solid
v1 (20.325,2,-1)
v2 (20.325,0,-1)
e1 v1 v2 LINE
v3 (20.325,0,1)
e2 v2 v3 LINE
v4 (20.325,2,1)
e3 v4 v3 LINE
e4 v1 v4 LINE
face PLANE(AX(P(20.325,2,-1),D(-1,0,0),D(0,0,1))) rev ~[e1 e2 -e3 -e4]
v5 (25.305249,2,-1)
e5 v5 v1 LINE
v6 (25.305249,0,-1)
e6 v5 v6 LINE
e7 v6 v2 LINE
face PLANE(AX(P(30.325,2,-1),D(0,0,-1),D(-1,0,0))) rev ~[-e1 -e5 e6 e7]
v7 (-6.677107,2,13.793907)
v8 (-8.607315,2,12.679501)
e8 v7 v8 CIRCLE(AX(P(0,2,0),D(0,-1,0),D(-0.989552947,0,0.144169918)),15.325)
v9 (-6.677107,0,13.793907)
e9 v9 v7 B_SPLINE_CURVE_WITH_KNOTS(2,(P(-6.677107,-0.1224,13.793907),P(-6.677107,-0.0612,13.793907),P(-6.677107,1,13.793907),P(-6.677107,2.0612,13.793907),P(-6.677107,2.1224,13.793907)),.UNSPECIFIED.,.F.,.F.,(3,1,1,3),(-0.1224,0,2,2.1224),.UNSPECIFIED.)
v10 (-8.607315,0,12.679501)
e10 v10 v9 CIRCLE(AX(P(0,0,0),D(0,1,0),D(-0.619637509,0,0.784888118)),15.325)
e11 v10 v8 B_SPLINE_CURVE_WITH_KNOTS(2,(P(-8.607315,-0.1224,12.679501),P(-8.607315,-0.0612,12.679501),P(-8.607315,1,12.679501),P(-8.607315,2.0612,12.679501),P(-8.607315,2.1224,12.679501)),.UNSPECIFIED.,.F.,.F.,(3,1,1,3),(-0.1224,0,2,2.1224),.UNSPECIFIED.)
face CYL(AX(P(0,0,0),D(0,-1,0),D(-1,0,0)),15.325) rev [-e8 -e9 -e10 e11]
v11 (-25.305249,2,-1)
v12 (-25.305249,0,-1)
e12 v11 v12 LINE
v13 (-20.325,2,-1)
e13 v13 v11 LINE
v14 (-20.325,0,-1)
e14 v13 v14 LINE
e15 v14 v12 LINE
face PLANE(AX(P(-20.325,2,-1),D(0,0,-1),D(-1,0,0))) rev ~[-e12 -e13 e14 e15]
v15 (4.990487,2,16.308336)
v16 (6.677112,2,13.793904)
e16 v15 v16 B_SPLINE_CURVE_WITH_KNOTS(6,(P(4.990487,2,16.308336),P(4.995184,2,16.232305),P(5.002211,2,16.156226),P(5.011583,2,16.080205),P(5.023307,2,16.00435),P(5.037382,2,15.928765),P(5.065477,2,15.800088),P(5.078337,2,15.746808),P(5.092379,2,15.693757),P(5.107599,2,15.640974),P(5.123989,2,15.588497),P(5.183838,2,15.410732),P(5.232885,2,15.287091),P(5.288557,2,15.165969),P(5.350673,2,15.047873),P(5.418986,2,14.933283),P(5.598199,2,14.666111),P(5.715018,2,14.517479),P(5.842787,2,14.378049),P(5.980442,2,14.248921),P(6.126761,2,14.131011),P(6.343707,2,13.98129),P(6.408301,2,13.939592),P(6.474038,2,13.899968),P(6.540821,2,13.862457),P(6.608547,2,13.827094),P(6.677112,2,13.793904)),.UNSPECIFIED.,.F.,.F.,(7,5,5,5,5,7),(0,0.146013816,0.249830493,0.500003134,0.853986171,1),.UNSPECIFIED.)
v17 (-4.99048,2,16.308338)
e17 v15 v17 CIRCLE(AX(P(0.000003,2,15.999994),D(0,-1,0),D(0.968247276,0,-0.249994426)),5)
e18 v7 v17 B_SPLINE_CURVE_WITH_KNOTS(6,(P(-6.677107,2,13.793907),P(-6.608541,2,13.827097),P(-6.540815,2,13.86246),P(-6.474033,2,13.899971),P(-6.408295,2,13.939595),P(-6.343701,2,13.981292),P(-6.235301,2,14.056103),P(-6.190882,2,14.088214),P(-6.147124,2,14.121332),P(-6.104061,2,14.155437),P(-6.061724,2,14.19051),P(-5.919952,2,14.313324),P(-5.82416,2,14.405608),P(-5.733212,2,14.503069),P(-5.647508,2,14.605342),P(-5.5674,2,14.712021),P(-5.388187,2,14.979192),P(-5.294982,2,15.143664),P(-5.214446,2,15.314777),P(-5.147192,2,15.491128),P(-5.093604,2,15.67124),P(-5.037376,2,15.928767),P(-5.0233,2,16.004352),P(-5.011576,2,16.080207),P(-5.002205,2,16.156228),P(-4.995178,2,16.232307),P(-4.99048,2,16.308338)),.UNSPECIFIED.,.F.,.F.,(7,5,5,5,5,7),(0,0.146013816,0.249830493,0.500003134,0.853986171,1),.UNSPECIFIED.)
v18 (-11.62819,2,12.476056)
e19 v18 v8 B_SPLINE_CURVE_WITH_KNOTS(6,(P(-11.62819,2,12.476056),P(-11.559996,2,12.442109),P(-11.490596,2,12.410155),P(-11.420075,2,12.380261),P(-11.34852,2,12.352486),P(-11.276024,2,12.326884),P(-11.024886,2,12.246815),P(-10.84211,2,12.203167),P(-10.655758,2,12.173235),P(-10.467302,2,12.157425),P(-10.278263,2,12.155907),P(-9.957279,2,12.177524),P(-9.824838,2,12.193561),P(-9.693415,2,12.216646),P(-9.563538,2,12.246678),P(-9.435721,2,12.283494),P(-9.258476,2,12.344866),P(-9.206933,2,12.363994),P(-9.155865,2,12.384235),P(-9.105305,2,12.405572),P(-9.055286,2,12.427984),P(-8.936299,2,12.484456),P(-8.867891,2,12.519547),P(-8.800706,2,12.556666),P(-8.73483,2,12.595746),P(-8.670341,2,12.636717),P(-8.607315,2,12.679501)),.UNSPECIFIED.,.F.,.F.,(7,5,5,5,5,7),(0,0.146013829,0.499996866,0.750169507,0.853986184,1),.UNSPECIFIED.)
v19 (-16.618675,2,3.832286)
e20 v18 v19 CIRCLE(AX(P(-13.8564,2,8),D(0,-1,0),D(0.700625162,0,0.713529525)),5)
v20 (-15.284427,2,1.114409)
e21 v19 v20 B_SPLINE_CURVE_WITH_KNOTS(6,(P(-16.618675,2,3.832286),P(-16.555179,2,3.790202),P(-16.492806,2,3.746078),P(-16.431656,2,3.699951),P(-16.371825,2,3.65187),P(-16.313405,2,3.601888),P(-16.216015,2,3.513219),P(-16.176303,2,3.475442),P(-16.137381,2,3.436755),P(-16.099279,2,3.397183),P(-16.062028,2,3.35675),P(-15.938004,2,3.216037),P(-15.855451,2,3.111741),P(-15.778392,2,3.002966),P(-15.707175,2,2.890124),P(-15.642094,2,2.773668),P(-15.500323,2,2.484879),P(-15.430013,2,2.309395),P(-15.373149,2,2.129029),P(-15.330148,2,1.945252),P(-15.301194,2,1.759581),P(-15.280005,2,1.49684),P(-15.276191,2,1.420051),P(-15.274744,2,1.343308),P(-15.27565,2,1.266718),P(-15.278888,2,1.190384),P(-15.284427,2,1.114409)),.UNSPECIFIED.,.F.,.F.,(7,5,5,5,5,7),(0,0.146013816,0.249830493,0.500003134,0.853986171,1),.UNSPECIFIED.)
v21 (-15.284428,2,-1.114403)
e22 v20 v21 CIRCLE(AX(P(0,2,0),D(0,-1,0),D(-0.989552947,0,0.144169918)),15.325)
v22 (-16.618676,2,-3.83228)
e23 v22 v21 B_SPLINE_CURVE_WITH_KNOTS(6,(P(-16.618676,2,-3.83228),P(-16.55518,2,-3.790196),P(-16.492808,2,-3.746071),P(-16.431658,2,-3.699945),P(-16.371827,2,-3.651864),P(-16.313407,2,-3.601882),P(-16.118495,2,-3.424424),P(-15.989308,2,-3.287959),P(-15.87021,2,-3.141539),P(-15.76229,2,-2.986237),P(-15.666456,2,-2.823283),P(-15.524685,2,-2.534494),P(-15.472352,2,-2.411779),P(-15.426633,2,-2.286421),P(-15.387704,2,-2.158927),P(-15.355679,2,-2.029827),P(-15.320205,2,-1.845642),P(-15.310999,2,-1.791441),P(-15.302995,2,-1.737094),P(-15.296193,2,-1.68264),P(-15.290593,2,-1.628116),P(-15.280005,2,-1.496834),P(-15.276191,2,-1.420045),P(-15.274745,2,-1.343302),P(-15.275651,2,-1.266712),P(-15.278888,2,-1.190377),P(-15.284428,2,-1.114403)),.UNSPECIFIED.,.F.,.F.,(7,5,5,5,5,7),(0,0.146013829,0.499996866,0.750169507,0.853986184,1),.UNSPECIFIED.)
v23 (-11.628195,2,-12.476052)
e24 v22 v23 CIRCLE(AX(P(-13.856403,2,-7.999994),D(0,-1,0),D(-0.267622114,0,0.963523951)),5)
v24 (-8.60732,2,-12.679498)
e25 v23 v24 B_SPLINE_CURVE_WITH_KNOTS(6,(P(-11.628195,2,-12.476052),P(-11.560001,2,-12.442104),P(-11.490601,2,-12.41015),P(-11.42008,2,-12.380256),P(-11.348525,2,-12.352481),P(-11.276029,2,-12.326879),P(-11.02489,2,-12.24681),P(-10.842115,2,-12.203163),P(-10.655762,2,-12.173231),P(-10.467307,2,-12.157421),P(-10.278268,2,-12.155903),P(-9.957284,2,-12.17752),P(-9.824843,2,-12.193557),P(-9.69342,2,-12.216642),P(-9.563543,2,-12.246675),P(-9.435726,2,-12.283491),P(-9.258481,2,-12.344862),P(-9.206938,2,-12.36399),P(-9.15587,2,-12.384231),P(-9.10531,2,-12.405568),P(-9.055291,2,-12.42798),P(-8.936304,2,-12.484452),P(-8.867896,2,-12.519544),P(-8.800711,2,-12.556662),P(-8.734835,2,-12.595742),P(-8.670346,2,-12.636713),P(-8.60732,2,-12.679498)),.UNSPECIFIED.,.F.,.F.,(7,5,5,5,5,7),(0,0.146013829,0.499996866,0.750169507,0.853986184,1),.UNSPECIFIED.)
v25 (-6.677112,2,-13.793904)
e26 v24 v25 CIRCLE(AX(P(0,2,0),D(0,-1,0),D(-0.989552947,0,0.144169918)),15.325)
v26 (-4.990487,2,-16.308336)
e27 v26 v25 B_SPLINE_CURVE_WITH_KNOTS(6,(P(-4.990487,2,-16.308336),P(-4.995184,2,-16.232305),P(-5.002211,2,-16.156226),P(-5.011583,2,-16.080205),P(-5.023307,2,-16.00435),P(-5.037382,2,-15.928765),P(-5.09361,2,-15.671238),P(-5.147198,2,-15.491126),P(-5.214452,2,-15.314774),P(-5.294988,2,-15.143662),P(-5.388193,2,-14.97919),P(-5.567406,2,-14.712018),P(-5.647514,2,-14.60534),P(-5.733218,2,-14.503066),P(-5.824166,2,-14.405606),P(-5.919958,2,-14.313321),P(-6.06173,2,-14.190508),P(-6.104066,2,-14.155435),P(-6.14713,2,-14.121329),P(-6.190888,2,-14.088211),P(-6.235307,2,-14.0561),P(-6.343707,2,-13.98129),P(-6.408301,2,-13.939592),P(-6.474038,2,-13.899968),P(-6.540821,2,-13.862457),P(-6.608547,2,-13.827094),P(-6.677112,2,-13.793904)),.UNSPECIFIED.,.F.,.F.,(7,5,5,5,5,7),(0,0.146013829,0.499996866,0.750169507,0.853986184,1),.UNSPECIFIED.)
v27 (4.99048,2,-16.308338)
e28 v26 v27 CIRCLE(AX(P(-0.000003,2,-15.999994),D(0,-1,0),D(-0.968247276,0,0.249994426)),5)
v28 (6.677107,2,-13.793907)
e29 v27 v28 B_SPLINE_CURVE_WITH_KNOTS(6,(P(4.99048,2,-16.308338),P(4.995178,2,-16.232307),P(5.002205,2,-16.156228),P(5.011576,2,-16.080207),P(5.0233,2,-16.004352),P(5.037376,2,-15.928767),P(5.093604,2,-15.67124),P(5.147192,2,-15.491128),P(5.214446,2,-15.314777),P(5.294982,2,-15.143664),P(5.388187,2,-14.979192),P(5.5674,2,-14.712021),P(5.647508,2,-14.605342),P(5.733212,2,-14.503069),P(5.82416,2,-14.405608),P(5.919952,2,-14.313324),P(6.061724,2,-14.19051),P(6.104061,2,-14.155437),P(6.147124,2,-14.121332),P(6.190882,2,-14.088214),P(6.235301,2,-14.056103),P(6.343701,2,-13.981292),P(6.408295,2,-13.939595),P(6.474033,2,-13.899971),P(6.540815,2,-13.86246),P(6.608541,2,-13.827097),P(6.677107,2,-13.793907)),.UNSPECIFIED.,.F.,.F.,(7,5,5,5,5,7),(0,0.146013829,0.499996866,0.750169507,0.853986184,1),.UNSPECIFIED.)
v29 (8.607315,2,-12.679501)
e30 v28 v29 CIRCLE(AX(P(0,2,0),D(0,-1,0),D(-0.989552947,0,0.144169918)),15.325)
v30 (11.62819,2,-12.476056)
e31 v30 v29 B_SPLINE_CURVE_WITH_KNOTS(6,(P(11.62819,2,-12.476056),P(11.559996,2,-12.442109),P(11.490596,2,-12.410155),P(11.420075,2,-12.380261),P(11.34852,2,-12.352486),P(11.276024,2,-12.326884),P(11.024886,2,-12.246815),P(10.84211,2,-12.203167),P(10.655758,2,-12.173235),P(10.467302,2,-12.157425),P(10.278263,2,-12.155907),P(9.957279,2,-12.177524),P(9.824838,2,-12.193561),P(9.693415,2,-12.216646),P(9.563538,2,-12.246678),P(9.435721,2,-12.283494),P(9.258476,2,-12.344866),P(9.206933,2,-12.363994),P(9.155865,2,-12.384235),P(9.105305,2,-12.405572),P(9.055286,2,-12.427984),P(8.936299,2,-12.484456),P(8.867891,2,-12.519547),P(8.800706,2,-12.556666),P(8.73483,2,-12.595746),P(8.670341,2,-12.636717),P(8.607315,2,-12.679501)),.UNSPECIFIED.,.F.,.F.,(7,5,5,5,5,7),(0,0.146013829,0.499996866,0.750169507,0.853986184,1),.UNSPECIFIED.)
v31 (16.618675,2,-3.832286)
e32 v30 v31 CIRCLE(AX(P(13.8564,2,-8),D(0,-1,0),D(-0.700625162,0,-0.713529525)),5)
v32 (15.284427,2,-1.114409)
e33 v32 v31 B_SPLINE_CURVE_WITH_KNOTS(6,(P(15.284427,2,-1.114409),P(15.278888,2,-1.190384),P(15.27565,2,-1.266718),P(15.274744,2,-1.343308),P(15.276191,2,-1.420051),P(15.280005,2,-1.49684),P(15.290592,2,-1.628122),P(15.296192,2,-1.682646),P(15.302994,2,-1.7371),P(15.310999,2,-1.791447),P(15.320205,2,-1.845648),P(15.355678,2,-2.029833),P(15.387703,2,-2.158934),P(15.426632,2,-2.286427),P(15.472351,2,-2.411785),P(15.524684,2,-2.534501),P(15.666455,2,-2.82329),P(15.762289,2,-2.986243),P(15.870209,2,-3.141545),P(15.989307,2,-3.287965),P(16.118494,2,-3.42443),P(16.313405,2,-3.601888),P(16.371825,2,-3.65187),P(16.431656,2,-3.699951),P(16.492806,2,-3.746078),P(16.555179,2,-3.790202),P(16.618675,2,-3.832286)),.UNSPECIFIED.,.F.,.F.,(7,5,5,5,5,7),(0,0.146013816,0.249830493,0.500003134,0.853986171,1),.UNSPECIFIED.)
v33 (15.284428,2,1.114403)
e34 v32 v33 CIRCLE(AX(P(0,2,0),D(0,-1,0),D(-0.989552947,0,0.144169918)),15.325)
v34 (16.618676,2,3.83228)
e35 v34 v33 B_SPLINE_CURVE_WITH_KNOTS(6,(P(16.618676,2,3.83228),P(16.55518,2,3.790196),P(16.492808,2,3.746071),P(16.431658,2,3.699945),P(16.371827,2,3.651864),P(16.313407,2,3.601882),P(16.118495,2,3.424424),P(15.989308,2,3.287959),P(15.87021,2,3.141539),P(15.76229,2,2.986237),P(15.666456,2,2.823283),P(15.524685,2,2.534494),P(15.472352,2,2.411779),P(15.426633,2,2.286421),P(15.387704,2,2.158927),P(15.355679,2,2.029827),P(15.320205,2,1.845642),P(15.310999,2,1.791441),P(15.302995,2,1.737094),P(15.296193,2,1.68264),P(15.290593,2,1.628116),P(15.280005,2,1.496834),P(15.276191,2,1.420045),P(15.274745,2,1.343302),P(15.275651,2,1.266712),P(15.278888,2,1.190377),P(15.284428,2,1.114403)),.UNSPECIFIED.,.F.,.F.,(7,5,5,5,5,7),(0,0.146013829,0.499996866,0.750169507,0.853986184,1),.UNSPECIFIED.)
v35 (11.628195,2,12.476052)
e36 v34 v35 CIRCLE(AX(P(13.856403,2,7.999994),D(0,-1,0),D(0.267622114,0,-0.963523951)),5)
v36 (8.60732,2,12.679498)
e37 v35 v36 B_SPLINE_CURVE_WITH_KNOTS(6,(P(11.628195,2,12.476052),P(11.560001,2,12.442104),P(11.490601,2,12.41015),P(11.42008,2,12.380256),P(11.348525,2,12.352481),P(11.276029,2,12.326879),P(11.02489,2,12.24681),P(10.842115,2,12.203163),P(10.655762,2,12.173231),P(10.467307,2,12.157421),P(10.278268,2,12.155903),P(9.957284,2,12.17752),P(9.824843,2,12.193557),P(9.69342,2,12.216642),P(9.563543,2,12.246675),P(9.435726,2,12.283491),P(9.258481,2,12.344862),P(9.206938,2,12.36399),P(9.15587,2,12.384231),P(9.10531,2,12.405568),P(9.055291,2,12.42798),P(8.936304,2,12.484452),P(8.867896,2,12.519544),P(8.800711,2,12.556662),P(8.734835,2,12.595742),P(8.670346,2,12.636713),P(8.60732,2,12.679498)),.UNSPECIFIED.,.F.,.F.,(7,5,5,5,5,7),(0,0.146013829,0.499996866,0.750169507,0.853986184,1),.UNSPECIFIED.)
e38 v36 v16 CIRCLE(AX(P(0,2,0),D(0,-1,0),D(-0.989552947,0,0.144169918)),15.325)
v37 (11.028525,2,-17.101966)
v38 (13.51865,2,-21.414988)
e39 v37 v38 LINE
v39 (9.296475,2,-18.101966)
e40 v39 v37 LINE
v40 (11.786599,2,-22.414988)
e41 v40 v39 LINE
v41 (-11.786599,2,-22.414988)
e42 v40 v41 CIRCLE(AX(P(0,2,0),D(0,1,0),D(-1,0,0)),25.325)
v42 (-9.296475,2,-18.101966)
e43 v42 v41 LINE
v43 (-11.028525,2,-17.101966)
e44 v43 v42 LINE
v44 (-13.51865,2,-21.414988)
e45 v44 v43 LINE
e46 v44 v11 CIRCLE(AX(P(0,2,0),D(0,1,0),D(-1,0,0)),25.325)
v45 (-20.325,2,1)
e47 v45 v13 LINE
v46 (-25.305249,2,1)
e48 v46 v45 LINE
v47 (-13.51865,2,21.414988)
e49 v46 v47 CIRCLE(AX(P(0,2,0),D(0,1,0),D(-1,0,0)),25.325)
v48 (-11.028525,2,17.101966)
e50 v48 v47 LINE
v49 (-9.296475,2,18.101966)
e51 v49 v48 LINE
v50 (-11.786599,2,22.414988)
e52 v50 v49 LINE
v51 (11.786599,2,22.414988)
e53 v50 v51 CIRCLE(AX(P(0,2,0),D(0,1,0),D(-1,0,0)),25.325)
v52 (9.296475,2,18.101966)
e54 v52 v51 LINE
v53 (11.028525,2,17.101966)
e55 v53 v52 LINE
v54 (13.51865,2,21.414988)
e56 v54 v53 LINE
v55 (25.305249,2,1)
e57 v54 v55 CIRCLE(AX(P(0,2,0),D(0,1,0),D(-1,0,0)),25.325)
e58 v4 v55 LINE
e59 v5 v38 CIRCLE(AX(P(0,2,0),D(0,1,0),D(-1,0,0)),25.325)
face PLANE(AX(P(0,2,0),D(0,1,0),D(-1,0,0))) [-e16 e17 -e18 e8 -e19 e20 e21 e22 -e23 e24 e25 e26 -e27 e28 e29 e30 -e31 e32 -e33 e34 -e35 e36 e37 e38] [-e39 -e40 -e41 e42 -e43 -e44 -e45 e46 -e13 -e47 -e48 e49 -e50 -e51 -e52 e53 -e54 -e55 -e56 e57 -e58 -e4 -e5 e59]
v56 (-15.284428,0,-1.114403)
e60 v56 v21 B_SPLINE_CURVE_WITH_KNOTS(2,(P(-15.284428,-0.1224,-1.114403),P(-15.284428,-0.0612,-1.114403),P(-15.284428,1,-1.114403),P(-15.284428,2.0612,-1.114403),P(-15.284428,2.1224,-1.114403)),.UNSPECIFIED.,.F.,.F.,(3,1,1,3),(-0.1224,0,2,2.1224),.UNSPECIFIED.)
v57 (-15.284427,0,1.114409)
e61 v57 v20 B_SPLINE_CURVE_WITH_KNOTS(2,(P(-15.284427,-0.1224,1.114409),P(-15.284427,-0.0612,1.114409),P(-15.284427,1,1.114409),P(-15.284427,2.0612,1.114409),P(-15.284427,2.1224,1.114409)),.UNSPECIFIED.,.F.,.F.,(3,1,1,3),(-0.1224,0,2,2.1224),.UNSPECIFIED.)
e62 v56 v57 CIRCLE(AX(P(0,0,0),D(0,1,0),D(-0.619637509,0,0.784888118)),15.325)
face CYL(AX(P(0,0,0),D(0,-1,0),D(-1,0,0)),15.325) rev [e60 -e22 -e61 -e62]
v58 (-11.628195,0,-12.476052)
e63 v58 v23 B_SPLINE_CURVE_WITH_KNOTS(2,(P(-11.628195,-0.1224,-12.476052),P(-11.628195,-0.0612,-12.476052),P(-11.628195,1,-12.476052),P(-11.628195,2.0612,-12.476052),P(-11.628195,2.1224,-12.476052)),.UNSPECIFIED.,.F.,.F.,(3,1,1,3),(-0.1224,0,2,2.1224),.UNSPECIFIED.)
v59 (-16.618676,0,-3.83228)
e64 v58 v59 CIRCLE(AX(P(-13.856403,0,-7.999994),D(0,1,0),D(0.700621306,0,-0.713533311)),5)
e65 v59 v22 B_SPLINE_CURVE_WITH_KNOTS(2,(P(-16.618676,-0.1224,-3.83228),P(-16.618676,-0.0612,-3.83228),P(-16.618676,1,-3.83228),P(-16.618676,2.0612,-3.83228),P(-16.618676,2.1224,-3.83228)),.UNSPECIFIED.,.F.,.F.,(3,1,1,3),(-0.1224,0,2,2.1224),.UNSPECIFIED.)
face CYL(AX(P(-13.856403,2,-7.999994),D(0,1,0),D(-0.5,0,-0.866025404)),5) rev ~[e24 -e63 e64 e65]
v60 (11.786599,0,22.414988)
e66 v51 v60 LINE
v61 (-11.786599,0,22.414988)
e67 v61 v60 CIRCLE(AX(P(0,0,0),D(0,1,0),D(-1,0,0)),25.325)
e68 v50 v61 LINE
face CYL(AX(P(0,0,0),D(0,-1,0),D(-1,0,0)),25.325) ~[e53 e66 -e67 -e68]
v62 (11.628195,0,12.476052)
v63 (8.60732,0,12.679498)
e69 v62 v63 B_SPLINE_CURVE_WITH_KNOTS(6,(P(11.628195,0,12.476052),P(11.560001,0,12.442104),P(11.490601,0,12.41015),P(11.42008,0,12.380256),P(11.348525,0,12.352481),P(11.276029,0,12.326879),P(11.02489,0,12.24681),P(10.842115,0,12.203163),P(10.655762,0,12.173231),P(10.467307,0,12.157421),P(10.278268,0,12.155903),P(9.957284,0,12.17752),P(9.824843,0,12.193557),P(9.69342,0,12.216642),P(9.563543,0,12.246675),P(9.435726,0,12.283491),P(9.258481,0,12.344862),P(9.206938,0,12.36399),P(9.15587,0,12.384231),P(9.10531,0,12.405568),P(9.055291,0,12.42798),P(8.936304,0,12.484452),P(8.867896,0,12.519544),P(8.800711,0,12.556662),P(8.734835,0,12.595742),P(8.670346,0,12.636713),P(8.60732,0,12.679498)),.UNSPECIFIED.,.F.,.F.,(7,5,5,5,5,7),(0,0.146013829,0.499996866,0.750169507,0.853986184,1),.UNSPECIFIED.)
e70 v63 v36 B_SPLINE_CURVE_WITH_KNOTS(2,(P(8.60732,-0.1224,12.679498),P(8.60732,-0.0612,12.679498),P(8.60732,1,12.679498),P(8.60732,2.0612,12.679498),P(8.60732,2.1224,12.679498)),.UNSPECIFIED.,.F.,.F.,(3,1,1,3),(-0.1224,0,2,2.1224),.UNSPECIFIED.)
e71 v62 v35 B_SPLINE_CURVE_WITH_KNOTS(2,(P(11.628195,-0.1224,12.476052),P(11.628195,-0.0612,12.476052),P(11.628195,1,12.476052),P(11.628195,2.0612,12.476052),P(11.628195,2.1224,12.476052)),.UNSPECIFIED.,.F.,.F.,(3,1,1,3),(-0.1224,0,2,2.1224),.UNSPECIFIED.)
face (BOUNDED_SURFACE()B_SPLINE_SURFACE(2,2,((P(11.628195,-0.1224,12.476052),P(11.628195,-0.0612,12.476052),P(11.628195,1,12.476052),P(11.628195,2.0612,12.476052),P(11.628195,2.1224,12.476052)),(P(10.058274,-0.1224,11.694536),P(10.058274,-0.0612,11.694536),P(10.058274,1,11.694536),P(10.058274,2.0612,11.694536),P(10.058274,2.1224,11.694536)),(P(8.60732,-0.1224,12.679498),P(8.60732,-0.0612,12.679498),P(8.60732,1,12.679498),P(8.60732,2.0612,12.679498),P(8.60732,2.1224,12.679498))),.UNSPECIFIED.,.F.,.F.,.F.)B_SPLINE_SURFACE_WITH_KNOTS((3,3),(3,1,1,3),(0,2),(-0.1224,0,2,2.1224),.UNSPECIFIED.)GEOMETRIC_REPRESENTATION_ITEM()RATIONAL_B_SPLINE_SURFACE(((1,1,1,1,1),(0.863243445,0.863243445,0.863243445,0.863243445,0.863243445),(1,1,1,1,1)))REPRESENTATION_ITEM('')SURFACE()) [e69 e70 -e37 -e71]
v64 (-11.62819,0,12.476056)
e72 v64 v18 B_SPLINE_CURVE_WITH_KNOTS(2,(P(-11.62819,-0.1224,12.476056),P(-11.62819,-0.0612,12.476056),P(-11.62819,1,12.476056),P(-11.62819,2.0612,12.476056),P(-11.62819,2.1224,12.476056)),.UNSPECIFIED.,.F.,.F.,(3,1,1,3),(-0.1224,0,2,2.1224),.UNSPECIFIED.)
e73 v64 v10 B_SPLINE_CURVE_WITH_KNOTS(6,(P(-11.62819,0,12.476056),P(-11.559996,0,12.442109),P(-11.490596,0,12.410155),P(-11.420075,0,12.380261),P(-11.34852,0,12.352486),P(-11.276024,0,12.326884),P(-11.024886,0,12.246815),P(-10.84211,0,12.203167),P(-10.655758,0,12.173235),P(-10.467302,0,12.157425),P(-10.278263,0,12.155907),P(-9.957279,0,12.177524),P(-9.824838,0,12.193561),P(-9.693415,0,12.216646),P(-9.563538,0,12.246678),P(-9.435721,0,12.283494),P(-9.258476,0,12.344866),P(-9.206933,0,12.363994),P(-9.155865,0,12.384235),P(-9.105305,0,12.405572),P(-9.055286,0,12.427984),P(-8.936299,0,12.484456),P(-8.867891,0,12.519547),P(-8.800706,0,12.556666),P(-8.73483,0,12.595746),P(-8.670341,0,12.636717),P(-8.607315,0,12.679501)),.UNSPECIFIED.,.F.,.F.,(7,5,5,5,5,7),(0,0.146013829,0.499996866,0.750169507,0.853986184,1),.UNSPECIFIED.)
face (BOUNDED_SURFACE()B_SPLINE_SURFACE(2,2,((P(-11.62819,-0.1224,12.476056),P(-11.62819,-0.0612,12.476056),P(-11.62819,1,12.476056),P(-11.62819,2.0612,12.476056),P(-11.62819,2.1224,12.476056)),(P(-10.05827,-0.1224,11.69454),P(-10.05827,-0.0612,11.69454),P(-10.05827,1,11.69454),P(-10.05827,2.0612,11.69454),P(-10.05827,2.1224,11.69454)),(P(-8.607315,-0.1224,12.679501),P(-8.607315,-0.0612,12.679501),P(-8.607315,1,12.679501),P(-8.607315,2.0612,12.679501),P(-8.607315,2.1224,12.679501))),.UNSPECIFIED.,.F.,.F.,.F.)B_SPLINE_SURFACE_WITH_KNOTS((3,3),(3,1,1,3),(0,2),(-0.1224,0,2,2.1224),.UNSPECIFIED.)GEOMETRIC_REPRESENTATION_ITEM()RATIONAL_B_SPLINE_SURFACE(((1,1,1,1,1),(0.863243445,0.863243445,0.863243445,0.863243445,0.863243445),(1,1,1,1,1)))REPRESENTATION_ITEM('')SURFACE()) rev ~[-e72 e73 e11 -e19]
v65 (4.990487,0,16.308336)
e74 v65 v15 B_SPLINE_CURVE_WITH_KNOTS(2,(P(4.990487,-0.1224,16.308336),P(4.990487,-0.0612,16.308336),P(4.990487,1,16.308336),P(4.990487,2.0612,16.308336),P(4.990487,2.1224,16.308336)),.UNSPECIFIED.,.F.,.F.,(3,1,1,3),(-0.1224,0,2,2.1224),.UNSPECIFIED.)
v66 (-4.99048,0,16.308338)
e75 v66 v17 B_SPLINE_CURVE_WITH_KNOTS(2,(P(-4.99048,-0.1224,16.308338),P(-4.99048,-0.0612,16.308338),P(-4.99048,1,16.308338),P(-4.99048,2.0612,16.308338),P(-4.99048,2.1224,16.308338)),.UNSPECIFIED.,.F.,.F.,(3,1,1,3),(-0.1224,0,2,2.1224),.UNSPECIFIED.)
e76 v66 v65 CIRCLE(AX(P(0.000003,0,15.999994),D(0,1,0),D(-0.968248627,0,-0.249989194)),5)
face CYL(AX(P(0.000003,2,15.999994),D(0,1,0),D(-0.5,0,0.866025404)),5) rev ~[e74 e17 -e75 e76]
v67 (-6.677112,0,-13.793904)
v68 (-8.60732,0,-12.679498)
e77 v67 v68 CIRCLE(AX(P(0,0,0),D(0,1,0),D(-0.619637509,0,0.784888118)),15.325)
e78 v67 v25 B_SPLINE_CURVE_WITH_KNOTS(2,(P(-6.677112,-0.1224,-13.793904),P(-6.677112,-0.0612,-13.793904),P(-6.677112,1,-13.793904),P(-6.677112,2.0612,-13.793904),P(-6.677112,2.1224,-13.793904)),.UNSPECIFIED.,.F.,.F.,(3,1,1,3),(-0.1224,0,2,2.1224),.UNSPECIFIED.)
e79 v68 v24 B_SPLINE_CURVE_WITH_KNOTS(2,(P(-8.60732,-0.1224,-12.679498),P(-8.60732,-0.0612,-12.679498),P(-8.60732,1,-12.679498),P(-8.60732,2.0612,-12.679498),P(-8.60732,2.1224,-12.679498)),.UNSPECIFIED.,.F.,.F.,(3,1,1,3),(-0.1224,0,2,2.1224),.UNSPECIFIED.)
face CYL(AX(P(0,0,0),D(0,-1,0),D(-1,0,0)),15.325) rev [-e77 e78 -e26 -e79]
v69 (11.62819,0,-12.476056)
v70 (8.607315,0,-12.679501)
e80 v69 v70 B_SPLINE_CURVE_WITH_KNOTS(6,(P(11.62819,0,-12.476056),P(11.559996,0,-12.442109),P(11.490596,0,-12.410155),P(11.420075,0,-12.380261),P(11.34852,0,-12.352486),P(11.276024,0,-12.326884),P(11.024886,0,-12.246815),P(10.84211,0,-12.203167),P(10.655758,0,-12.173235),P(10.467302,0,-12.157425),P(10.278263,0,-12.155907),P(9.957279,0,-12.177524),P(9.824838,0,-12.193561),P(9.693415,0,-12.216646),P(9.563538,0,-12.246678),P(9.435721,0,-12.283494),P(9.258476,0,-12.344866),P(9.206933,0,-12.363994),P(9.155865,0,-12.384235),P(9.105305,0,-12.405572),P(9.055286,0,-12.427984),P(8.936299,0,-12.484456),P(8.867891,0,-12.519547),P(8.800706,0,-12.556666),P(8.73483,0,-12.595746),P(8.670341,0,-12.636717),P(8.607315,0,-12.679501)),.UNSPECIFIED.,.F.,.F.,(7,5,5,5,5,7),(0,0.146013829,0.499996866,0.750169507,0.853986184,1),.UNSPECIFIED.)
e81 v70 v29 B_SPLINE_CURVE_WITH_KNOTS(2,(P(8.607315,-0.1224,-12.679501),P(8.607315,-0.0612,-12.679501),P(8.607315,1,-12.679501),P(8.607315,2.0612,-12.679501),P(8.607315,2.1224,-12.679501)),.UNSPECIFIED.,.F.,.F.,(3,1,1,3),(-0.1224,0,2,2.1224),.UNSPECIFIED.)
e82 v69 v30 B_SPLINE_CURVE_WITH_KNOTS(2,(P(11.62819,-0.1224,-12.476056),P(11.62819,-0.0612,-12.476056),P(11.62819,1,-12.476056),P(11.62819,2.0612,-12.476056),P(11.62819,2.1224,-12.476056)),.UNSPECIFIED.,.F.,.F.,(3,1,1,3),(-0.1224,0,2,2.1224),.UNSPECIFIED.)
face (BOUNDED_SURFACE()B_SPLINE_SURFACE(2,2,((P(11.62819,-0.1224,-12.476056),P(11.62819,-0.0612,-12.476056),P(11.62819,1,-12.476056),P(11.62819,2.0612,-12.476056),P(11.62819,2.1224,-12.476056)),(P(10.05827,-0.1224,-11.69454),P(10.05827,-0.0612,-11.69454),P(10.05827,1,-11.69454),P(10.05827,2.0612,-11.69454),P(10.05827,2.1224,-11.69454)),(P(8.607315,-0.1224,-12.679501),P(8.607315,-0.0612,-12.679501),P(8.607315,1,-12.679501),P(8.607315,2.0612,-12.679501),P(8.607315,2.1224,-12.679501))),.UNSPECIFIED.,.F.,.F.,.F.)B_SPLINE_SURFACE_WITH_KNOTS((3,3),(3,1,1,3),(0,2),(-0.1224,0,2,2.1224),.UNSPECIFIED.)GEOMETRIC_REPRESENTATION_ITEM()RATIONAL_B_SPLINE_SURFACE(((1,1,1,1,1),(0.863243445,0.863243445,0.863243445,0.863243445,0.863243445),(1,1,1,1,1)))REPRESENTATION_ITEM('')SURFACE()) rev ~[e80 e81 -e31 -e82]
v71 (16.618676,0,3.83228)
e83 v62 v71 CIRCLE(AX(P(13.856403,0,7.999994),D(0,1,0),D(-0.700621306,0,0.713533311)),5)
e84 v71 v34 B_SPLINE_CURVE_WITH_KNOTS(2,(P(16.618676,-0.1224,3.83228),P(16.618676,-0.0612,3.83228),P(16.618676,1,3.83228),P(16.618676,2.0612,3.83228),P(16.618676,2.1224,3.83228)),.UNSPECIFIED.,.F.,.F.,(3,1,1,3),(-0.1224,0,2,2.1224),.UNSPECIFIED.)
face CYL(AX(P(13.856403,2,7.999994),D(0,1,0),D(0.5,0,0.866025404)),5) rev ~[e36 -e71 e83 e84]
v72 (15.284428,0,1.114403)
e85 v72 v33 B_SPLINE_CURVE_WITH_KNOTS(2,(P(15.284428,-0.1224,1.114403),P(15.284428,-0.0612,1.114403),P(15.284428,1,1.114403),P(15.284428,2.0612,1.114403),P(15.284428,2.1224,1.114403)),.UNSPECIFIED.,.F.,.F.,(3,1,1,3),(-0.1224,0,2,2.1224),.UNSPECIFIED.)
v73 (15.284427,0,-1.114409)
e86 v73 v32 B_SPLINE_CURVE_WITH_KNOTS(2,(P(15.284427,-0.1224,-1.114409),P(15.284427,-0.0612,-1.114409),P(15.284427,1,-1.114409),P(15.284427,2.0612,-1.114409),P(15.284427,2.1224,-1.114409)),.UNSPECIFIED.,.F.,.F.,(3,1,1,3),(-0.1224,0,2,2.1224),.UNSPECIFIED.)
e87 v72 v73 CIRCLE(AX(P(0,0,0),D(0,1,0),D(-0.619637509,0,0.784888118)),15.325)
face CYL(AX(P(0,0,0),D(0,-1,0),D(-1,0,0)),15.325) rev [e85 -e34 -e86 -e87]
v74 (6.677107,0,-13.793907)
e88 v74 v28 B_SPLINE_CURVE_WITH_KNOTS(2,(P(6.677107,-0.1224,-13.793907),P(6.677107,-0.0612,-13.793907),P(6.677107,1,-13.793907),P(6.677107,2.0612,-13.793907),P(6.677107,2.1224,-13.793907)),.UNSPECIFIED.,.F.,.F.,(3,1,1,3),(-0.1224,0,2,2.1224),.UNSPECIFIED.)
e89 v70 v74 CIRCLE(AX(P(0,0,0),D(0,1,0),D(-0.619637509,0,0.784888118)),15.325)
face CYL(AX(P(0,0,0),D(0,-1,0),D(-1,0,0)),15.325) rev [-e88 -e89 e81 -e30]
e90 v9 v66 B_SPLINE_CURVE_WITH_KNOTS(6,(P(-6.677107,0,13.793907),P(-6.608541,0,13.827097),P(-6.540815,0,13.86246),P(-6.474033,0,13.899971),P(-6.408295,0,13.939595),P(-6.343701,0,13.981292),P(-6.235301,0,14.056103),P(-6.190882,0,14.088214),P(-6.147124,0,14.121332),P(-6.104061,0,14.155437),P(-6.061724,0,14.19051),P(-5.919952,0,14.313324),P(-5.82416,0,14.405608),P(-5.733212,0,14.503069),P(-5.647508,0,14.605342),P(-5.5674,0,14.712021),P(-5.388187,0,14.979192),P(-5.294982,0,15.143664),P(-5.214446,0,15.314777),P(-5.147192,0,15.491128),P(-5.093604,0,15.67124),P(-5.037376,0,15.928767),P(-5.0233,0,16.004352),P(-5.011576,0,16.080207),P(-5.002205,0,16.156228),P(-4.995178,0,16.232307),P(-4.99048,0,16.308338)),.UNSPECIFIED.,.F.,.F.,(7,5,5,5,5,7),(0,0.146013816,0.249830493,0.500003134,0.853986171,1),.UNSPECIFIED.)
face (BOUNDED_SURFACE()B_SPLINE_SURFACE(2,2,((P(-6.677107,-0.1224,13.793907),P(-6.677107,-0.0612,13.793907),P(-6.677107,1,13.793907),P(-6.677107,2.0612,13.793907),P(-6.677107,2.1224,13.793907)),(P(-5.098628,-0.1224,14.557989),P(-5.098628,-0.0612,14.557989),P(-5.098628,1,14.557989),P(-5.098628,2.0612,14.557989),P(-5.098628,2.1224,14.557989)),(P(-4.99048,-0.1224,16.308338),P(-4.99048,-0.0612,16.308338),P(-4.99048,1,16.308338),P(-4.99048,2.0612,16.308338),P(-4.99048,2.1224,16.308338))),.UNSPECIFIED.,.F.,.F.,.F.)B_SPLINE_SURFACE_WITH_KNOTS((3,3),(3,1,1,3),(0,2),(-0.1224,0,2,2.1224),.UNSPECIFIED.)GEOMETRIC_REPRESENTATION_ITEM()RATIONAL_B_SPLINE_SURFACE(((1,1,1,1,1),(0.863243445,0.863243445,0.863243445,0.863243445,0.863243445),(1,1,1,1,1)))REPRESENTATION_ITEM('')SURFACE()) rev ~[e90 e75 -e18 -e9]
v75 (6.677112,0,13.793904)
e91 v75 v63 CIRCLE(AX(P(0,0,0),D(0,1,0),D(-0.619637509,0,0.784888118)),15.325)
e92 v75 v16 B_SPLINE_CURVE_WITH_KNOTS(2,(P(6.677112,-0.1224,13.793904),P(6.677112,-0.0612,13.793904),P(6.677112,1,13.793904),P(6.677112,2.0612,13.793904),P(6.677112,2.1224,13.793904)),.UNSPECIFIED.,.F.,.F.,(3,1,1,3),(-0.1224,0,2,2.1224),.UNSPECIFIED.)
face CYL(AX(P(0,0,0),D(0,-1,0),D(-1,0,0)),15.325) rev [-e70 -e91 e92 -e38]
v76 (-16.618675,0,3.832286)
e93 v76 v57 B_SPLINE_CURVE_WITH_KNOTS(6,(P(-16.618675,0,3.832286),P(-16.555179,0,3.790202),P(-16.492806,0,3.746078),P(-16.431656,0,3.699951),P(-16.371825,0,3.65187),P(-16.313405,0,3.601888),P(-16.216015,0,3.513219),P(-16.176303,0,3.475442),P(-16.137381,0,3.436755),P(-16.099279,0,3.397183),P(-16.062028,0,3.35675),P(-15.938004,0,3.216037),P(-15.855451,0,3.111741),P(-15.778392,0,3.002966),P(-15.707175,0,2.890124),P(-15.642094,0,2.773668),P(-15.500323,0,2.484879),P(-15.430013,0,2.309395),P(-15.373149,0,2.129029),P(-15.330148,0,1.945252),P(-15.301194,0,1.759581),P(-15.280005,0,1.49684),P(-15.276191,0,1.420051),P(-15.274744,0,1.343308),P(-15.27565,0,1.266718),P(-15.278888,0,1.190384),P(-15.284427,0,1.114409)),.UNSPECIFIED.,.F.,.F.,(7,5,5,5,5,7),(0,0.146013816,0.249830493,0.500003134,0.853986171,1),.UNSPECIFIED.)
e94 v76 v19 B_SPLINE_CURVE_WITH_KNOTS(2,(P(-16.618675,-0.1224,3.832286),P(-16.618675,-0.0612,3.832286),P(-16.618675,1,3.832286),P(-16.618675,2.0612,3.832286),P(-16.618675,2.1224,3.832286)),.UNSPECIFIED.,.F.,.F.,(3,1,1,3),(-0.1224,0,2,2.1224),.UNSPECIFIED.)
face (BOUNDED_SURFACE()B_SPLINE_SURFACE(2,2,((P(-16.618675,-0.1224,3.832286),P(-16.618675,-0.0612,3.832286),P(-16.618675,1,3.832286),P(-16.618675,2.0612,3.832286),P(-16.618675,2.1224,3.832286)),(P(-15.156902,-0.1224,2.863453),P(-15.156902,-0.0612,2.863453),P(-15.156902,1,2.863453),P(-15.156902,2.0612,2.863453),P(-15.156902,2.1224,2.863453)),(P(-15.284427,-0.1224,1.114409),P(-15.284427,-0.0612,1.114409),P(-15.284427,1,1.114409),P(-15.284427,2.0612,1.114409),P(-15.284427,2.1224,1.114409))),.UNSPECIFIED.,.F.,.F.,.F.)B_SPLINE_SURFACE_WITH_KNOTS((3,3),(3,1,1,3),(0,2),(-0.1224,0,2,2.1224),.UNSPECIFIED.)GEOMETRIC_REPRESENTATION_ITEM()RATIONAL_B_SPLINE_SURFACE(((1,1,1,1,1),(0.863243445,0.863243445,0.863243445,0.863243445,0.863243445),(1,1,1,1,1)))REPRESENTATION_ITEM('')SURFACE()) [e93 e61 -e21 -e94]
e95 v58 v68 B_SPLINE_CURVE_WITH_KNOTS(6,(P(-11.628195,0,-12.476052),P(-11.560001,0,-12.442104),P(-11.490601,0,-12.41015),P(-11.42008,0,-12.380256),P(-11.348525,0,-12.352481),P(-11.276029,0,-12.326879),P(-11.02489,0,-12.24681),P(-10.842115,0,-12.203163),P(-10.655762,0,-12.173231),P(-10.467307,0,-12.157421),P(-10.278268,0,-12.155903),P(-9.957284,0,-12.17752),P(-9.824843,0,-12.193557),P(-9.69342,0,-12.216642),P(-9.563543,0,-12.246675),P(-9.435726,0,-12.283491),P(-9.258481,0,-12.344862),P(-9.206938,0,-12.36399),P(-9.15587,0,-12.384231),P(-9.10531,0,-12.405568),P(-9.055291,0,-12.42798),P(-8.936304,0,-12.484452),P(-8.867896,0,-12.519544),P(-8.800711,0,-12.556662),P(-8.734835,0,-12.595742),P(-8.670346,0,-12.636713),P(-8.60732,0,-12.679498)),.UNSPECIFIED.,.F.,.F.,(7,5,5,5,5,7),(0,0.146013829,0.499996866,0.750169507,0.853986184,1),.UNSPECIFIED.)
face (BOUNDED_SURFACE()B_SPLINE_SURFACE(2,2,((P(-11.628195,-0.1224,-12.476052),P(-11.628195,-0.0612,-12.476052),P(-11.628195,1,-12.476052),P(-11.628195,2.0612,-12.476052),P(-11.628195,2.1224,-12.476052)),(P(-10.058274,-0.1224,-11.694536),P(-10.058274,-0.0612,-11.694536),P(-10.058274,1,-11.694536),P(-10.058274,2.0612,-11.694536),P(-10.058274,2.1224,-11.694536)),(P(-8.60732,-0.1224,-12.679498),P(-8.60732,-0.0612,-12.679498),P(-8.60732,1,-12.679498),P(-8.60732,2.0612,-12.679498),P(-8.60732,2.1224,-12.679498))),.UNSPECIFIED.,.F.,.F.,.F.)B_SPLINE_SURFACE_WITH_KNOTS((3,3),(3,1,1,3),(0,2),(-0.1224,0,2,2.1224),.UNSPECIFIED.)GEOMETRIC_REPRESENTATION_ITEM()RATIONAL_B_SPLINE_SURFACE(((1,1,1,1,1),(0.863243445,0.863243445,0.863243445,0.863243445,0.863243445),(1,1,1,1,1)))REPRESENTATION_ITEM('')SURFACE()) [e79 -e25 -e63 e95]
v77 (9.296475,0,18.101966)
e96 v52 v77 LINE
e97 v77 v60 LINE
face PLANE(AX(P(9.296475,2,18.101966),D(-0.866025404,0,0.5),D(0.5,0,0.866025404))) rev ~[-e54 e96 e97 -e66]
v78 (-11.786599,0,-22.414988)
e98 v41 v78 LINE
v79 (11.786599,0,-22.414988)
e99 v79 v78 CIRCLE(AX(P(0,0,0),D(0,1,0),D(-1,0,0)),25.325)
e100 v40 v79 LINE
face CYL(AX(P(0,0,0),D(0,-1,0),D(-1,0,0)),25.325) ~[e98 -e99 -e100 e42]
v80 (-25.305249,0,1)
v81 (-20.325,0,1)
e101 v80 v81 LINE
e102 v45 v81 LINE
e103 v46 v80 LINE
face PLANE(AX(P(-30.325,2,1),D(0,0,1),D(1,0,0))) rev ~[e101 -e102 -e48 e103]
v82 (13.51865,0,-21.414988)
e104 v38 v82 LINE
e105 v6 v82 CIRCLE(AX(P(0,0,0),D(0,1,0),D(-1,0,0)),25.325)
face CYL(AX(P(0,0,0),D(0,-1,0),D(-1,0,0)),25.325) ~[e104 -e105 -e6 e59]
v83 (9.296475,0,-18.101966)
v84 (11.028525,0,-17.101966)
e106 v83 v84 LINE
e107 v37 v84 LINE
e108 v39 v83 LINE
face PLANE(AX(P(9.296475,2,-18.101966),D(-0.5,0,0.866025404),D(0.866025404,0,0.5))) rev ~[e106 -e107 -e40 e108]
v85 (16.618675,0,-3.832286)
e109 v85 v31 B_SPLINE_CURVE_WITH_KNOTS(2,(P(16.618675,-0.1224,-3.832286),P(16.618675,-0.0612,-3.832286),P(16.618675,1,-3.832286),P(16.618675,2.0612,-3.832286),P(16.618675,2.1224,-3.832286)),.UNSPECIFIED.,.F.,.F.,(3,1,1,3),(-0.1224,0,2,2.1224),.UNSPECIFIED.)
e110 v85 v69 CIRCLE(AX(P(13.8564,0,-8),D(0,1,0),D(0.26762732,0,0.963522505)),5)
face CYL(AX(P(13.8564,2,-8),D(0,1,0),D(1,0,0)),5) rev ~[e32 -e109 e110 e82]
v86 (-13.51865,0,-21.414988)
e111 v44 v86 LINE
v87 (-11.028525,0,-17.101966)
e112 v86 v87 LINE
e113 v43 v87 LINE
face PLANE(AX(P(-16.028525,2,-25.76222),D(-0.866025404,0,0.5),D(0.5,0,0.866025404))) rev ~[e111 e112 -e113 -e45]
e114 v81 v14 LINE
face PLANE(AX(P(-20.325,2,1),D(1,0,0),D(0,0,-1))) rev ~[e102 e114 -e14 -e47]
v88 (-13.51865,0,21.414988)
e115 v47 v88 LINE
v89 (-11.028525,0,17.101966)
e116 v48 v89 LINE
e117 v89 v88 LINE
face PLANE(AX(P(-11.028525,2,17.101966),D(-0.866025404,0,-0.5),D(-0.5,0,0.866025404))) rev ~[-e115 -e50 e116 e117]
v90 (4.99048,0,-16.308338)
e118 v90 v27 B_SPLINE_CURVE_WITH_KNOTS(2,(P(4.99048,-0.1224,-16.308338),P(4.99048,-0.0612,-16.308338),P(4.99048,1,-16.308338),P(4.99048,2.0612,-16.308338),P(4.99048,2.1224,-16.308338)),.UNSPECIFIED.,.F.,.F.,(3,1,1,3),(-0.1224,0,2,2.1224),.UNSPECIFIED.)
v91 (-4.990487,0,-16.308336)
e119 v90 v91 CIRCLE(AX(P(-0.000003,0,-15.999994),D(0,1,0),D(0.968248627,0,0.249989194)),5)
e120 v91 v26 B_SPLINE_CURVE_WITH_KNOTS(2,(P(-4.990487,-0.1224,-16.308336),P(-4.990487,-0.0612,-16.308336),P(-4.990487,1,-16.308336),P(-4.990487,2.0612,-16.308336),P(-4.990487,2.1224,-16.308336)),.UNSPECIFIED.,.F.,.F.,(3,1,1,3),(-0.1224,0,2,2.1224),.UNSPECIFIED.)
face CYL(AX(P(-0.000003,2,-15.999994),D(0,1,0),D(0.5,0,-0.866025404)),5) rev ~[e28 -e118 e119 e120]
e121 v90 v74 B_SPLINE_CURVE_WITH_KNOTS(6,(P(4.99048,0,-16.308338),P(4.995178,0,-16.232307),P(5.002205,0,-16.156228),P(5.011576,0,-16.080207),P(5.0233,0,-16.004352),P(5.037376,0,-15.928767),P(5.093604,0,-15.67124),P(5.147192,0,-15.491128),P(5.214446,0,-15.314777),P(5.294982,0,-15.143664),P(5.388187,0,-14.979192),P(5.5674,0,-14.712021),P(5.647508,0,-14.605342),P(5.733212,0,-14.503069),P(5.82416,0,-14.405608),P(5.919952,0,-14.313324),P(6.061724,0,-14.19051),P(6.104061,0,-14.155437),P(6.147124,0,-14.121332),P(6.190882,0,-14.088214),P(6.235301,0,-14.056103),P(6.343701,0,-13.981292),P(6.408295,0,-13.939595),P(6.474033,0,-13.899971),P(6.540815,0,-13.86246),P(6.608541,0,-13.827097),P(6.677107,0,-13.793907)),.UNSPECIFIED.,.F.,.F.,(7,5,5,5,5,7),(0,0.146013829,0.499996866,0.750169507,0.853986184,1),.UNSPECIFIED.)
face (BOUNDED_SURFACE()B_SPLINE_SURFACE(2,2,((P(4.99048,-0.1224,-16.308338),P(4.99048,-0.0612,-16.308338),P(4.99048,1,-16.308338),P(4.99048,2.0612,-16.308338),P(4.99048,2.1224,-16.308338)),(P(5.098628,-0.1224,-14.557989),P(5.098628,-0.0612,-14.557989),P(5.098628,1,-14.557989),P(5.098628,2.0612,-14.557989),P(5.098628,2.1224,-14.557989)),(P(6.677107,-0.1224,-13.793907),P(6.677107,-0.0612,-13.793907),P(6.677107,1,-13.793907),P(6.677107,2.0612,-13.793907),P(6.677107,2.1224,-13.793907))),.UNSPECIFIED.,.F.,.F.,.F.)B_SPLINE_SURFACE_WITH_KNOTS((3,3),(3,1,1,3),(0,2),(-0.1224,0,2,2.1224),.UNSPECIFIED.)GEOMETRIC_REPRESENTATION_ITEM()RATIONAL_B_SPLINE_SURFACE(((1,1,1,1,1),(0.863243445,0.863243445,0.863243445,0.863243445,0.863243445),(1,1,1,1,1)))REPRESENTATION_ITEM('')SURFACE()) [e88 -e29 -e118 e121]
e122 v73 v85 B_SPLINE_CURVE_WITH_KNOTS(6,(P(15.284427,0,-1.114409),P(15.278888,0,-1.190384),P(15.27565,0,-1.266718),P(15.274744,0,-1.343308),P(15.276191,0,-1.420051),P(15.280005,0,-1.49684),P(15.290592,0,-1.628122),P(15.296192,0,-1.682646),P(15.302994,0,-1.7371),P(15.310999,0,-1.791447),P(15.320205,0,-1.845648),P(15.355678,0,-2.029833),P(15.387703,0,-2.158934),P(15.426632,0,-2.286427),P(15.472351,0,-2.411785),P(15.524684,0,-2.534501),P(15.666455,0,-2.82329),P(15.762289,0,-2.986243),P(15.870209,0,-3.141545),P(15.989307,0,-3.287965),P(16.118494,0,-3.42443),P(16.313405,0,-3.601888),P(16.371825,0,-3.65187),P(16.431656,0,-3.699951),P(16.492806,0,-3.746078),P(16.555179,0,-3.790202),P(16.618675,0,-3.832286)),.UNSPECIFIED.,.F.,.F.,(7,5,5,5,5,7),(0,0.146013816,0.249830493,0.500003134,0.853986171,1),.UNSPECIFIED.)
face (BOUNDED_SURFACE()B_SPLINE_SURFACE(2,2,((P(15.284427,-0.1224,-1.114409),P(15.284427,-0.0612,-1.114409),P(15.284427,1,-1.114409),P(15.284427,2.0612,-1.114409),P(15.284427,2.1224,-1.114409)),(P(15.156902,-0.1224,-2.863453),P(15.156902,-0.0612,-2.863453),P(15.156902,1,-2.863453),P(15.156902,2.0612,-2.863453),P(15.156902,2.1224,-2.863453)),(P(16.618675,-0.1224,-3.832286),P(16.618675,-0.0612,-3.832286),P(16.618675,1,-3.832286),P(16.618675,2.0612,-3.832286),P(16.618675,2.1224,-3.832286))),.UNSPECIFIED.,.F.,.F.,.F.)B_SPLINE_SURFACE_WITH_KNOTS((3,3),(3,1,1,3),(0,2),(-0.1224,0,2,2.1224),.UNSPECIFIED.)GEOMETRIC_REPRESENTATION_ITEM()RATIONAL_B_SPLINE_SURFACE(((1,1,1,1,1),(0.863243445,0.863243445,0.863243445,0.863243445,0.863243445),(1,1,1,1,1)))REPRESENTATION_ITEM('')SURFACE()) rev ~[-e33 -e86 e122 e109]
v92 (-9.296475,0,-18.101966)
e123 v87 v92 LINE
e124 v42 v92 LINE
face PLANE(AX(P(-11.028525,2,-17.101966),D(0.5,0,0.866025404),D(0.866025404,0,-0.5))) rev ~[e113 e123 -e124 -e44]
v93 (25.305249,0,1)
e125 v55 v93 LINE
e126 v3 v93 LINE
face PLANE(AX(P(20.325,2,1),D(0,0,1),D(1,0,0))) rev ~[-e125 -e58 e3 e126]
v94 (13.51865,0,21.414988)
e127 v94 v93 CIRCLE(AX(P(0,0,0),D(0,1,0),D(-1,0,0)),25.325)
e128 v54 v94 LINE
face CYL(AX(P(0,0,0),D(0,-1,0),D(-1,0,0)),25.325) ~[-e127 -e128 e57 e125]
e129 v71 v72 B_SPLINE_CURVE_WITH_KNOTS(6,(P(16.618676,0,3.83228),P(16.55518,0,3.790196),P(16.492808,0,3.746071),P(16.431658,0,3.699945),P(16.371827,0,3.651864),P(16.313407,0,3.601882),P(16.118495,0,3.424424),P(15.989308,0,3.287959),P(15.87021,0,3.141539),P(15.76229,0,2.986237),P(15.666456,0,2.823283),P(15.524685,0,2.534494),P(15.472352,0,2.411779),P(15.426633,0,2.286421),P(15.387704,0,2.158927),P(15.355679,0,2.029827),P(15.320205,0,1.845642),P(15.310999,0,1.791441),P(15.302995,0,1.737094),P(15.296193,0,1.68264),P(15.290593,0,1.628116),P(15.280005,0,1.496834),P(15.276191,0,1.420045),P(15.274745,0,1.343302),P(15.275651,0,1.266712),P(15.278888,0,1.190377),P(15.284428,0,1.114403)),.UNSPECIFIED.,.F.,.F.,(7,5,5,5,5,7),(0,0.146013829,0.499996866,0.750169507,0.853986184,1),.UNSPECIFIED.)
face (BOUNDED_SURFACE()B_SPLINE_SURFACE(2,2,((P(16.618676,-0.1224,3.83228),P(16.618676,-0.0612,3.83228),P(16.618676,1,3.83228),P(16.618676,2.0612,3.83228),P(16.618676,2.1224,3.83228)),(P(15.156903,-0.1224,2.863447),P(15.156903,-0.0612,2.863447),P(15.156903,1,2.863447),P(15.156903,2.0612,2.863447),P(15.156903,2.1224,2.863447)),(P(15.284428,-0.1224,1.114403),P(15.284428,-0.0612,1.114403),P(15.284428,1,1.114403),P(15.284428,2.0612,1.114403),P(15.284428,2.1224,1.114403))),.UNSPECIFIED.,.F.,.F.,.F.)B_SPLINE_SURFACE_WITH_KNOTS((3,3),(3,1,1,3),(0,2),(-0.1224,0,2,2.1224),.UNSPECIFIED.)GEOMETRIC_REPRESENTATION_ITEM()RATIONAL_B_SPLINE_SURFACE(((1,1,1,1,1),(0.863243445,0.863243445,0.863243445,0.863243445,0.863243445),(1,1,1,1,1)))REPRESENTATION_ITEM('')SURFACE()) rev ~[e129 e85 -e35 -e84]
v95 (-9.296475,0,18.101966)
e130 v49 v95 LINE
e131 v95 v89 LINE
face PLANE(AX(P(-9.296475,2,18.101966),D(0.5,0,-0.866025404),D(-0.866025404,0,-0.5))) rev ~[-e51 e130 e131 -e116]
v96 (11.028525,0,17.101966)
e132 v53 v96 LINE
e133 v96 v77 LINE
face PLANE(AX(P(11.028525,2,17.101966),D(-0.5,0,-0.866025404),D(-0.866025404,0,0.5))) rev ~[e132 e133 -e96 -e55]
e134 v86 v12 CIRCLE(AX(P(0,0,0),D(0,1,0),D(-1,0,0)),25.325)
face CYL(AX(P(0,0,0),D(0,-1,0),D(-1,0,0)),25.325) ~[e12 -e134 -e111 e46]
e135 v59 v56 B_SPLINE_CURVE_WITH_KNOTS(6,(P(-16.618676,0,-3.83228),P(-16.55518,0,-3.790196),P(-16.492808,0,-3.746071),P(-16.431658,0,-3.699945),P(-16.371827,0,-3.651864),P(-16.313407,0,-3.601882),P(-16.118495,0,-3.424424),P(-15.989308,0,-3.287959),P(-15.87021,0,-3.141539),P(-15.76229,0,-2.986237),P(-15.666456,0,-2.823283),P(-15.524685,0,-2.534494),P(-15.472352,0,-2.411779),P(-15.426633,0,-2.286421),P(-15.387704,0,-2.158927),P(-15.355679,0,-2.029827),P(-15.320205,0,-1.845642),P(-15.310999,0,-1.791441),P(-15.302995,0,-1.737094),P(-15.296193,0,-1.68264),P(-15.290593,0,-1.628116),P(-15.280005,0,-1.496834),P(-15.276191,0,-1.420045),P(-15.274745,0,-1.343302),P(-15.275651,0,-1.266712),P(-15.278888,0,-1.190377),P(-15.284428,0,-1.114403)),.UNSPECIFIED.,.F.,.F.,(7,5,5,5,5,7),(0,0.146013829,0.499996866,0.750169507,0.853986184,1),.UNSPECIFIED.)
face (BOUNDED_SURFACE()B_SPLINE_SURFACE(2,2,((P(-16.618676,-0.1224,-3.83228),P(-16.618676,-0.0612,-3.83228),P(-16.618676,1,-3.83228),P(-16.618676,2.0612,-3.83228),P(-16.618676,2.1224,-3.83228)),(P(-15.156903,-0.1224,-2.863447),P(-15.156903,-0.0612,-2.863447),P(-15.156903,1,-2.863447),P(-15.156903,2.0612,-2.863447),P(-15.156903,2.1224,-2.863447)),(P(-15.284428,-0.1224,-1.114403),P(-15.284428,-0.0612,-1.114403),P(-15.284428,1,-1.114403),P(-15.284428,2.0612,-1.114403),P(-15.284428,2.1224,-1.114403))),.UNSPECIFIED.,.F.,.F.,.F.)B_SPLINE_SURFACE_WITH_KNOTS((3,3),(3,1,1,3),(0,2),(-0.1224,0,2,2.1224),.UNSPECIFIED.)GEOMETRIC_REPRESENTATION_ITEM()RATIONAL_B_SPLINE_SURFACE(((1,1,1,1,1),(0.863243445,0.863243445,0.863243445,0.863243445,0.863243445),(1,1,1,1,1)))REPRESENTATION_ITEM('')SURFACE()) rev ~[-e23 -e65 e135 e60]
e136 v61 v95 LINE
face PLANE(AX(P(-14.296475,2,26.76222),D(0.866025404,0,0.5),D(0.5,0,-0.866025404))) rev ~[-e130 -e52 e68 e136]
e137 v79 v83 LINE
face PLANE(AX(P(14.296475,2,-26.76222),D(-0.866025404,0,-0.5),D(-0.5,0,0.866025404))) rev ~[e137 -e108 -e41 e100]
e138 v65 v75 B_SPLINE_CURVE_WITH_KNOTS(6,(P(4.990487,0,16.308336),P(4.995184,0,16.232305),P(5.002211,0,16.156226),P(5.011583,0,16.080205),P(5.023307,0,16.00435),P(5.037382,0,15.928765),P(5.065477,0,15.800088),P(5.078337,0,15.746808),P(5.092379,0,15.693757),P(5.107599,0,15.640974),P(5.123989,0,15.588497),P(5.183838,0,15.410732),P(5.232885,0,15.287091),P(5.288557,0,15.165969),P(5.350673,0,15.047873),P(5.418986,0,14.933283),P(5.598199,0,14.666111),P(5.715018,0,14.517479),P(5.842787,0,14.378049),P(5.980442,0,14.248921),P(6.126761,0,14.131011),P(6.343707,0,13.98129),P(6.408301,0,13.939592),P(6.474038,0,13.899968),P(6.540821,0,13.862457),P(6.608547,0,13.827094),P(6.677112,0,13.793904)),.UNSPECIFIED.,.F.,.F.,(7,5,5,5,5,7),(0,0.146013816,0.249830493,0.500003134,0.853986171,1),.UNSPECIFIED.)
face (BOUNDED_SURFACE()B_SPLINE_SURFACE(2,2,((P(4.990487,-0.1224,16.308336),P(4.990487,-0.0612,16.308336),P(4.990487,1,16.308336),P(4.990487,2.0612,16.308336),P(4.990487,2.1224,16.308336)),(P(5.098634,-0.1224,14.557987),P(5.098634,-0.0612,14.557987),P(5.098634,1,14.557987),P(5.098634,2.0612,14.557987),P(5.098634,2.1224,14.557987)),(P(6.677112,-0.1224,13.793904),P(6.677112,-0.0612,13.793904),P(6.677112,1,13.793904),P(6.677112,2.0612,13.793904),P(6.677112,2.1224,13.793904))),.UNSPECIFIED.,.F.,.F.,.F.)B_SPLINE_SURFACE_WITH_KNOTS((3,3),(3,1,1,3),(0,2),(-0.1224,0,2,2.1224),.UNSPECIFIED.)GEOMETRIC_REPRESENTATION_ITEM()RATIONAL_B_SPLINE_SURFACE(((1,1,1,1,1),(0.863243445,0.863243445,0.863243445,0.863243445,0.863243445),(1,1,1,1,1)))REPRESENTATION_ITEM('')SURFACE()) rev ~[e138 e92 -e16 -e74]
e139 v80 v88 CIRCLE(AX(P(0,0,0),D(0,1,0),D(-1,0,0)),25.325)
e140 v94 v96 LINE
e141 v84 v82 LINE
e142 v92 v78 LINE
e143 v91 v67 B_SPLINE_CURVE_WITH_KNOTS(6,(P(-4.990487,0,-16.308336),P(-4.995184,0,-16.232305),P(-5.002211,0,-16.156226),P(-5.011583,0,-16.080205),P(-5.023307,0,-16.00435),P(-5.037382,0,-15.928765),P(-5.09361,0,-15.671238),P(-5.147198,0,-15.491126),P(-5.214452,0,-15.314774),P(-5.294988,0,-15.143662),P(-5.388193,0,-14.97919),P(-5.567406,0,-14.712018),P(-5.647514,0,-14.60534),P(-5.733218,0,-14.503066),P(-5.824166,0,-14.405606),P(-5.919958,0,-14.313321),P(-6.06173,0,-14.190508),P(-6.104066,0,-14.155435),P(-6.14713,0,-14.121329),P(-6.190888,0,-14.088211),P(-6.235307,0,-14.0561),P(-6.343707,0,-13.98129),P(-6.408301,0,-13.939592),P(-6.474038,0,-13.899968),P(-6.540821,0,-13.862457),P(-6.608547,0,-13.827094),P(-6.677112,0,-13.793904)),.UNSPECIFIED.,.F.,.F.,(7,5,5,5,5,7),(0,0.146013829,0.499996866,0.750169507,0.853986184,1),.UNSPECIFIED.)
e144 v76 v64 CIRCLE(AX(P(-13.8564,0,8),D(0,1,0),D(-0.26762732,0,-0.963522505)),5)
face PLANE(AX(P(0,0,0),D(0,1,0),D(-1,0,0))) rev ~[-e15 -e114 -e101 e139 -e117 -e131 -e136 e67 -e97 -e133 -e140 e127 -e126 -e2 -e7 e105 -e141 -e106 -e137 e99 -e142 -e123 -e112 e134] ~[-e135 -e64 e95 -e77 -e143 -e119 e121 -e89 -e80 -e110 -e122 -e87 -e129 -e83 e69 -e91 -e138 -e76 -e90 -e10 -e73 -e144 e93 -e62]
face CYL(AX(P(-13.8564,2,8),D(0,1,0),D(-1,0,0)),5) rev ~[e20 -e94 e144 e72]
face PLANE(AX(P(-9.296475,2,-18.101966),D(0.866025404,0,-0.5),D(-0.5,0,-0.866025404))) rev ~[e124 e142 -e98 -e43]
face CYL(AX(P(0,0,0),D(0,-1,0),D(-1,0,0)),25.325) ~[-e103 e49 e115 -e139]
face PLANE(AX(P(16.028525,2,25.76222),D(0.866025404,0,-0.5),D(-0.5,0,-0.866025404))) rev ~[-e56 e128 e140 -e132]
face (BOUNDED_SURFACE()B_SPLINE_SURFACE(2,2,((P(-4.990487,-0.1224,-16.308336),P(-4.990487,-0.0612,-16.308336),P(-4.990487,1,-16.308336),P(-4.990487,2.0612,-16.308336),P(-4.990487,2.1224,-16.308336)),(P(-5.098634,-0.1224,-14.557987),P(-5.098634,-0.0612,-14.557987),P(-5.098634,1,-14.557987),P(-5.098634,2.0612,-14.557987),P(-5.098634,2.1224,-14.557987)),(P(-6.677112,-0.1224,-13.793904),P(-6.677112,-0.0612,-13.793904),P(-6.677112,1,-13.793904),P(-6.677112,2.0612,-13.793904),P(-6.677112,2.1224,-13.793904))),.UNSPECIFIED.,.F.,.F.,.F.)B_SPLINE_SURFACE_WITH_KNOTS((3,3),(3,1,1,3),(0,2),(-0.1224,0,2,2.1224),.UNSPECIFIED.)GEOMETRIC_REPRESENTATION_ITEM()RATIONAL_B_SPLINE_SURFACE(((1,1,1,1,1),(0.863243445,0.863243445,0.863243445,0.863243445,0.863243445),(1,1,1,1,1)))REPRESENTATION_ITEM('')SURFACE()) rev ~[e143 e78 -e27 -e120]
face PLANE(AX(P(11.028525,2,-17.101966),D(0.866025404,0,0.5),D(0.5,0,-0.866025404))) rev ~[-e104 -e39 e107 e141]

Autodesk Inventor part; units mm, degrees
ref_plane "YZ Plane" through (0, 0, 0) normal (1, 0, 0) x (0, 1, 0)
ref_plane "XZ Plane" through (0, 0, 0) normal (0, 1, 0) x (-1, 0, 0)
ref_plane "XY Plane" through (0, 0, 0) normal (0, 0, 1) x (1, 0, 0)
sketch "Sketch1" plane through (0, 0, 0) normal (0, 1, 0) x (-1, 0, 0)
  circle A0 centre (0, 0) radius 25.325
  circle A1 centre (0, 0) radius 15.325
  dimension "d0" = 50.65
  dimension "d1" = 30.65
extrude "Extrusion1" add sketch "Sketch1" along normal blind 2
sketch "Sketch2" plane through (0, 2, 0) normal (0, 1, 0) x (1, 0, 0)
  line L0 (-30.325, -1) -> (-20.325, -1)
  line L1 (-20.325, -1) -> (-20.325, 1)
  line L2 (-20.325, 1) -> (-30.325, 1)
  line L3 (-30.325, 1) -> (-30.325, -1)
  point P0 (0, 0)
  dimension "d8" = 20.325
  dimension "d9" = 1
  dimension "d10" = 2
  dimension "d11" = 10
extrude "Extrusion2" cut sketch "Sketch2" against normal blind 2
pattern_circular "Circular Pattern1" count 6 over 360 about axis through (0, -10, 0) along (0, 1, 0) of "Extrusion2"
sketch "Sketch3" plane through (0, 2, 0) normal (0, 1, 0) x (1, 0, 0)
  circle A0 centre (-5.1962, -3) radius 10
  line L0 (-5.1962, -3) -> (0, 0) construction
  line L1 (-35.4273, 0) -> (35.4273, 0) projected
  dimension "d17" = 20
  dimension "d18" = 30
  dimension "d19" = 3
extrude "Extrusion3" cut sketch "Sketch3" against normal blind 2
pattern_circular "Circular Pattern2" count 6 over 360 about axis through (0, -10, 0) along (0, 1, 0) of "Extrusion3"
sketch "Sketch4" plane through (0, 2, 0) normal (0, 1, 0) x (1, 0, 0)
  circle A0 centre (13.8564, 8) radius 5
  line L0 (13.8564, 8) -> (0, 0) construction
  line L1 (-35.4273, 0) -> (35.4273, 0) projected
  dimension "d26" = 10
  dimension "d27" = 8
  dimension "d28" = 30
extrude "Extrusion4" cut sketch "Sketch4" against normal blind 2
pattern_circular "Circular Pattern3" count 6 over 360 about axis through (0, -10, 0) along (0, 1, 0) of "Extrusion4"
fillet "Fillet2" radius 3 16 edges at (-10.3533, 1, -11.5676) (-15.1945, 1, -3.1824) (-9.496, 1, -12.0284) (-15.1649, 1, -2.2096) (-15.1649, 1, 2.2096) (-9.496, 1, 12.0284) (-15.1945, 1, 3.1824) (-10.3533, 1, 11.5676) (4.8412, 1, -14.75) (-4.8412, 1, -14.75) (5.6689, 1, -14.238) (-5.6689, 1, -14.238) (-4.8412, 1, 14.75) (4.8412, 1, 14.75) (-5.6689, 1, 14.238) (5.6689, 1, 14.238)
fillet "Fillet3" radius 3 8 edges at (15.1945, 1, -3.1824) (10.3533, 1, -11.5676) (15.1649, 1, -2.2096) (9.496, 1, -12.0284) (9.496, 1, 12.0284) (15.1649, 1, 2.2096) (10.3533, 1, 11.5676) (15.1945, 1, 3.1824)
properties part number "Ring_n2"
